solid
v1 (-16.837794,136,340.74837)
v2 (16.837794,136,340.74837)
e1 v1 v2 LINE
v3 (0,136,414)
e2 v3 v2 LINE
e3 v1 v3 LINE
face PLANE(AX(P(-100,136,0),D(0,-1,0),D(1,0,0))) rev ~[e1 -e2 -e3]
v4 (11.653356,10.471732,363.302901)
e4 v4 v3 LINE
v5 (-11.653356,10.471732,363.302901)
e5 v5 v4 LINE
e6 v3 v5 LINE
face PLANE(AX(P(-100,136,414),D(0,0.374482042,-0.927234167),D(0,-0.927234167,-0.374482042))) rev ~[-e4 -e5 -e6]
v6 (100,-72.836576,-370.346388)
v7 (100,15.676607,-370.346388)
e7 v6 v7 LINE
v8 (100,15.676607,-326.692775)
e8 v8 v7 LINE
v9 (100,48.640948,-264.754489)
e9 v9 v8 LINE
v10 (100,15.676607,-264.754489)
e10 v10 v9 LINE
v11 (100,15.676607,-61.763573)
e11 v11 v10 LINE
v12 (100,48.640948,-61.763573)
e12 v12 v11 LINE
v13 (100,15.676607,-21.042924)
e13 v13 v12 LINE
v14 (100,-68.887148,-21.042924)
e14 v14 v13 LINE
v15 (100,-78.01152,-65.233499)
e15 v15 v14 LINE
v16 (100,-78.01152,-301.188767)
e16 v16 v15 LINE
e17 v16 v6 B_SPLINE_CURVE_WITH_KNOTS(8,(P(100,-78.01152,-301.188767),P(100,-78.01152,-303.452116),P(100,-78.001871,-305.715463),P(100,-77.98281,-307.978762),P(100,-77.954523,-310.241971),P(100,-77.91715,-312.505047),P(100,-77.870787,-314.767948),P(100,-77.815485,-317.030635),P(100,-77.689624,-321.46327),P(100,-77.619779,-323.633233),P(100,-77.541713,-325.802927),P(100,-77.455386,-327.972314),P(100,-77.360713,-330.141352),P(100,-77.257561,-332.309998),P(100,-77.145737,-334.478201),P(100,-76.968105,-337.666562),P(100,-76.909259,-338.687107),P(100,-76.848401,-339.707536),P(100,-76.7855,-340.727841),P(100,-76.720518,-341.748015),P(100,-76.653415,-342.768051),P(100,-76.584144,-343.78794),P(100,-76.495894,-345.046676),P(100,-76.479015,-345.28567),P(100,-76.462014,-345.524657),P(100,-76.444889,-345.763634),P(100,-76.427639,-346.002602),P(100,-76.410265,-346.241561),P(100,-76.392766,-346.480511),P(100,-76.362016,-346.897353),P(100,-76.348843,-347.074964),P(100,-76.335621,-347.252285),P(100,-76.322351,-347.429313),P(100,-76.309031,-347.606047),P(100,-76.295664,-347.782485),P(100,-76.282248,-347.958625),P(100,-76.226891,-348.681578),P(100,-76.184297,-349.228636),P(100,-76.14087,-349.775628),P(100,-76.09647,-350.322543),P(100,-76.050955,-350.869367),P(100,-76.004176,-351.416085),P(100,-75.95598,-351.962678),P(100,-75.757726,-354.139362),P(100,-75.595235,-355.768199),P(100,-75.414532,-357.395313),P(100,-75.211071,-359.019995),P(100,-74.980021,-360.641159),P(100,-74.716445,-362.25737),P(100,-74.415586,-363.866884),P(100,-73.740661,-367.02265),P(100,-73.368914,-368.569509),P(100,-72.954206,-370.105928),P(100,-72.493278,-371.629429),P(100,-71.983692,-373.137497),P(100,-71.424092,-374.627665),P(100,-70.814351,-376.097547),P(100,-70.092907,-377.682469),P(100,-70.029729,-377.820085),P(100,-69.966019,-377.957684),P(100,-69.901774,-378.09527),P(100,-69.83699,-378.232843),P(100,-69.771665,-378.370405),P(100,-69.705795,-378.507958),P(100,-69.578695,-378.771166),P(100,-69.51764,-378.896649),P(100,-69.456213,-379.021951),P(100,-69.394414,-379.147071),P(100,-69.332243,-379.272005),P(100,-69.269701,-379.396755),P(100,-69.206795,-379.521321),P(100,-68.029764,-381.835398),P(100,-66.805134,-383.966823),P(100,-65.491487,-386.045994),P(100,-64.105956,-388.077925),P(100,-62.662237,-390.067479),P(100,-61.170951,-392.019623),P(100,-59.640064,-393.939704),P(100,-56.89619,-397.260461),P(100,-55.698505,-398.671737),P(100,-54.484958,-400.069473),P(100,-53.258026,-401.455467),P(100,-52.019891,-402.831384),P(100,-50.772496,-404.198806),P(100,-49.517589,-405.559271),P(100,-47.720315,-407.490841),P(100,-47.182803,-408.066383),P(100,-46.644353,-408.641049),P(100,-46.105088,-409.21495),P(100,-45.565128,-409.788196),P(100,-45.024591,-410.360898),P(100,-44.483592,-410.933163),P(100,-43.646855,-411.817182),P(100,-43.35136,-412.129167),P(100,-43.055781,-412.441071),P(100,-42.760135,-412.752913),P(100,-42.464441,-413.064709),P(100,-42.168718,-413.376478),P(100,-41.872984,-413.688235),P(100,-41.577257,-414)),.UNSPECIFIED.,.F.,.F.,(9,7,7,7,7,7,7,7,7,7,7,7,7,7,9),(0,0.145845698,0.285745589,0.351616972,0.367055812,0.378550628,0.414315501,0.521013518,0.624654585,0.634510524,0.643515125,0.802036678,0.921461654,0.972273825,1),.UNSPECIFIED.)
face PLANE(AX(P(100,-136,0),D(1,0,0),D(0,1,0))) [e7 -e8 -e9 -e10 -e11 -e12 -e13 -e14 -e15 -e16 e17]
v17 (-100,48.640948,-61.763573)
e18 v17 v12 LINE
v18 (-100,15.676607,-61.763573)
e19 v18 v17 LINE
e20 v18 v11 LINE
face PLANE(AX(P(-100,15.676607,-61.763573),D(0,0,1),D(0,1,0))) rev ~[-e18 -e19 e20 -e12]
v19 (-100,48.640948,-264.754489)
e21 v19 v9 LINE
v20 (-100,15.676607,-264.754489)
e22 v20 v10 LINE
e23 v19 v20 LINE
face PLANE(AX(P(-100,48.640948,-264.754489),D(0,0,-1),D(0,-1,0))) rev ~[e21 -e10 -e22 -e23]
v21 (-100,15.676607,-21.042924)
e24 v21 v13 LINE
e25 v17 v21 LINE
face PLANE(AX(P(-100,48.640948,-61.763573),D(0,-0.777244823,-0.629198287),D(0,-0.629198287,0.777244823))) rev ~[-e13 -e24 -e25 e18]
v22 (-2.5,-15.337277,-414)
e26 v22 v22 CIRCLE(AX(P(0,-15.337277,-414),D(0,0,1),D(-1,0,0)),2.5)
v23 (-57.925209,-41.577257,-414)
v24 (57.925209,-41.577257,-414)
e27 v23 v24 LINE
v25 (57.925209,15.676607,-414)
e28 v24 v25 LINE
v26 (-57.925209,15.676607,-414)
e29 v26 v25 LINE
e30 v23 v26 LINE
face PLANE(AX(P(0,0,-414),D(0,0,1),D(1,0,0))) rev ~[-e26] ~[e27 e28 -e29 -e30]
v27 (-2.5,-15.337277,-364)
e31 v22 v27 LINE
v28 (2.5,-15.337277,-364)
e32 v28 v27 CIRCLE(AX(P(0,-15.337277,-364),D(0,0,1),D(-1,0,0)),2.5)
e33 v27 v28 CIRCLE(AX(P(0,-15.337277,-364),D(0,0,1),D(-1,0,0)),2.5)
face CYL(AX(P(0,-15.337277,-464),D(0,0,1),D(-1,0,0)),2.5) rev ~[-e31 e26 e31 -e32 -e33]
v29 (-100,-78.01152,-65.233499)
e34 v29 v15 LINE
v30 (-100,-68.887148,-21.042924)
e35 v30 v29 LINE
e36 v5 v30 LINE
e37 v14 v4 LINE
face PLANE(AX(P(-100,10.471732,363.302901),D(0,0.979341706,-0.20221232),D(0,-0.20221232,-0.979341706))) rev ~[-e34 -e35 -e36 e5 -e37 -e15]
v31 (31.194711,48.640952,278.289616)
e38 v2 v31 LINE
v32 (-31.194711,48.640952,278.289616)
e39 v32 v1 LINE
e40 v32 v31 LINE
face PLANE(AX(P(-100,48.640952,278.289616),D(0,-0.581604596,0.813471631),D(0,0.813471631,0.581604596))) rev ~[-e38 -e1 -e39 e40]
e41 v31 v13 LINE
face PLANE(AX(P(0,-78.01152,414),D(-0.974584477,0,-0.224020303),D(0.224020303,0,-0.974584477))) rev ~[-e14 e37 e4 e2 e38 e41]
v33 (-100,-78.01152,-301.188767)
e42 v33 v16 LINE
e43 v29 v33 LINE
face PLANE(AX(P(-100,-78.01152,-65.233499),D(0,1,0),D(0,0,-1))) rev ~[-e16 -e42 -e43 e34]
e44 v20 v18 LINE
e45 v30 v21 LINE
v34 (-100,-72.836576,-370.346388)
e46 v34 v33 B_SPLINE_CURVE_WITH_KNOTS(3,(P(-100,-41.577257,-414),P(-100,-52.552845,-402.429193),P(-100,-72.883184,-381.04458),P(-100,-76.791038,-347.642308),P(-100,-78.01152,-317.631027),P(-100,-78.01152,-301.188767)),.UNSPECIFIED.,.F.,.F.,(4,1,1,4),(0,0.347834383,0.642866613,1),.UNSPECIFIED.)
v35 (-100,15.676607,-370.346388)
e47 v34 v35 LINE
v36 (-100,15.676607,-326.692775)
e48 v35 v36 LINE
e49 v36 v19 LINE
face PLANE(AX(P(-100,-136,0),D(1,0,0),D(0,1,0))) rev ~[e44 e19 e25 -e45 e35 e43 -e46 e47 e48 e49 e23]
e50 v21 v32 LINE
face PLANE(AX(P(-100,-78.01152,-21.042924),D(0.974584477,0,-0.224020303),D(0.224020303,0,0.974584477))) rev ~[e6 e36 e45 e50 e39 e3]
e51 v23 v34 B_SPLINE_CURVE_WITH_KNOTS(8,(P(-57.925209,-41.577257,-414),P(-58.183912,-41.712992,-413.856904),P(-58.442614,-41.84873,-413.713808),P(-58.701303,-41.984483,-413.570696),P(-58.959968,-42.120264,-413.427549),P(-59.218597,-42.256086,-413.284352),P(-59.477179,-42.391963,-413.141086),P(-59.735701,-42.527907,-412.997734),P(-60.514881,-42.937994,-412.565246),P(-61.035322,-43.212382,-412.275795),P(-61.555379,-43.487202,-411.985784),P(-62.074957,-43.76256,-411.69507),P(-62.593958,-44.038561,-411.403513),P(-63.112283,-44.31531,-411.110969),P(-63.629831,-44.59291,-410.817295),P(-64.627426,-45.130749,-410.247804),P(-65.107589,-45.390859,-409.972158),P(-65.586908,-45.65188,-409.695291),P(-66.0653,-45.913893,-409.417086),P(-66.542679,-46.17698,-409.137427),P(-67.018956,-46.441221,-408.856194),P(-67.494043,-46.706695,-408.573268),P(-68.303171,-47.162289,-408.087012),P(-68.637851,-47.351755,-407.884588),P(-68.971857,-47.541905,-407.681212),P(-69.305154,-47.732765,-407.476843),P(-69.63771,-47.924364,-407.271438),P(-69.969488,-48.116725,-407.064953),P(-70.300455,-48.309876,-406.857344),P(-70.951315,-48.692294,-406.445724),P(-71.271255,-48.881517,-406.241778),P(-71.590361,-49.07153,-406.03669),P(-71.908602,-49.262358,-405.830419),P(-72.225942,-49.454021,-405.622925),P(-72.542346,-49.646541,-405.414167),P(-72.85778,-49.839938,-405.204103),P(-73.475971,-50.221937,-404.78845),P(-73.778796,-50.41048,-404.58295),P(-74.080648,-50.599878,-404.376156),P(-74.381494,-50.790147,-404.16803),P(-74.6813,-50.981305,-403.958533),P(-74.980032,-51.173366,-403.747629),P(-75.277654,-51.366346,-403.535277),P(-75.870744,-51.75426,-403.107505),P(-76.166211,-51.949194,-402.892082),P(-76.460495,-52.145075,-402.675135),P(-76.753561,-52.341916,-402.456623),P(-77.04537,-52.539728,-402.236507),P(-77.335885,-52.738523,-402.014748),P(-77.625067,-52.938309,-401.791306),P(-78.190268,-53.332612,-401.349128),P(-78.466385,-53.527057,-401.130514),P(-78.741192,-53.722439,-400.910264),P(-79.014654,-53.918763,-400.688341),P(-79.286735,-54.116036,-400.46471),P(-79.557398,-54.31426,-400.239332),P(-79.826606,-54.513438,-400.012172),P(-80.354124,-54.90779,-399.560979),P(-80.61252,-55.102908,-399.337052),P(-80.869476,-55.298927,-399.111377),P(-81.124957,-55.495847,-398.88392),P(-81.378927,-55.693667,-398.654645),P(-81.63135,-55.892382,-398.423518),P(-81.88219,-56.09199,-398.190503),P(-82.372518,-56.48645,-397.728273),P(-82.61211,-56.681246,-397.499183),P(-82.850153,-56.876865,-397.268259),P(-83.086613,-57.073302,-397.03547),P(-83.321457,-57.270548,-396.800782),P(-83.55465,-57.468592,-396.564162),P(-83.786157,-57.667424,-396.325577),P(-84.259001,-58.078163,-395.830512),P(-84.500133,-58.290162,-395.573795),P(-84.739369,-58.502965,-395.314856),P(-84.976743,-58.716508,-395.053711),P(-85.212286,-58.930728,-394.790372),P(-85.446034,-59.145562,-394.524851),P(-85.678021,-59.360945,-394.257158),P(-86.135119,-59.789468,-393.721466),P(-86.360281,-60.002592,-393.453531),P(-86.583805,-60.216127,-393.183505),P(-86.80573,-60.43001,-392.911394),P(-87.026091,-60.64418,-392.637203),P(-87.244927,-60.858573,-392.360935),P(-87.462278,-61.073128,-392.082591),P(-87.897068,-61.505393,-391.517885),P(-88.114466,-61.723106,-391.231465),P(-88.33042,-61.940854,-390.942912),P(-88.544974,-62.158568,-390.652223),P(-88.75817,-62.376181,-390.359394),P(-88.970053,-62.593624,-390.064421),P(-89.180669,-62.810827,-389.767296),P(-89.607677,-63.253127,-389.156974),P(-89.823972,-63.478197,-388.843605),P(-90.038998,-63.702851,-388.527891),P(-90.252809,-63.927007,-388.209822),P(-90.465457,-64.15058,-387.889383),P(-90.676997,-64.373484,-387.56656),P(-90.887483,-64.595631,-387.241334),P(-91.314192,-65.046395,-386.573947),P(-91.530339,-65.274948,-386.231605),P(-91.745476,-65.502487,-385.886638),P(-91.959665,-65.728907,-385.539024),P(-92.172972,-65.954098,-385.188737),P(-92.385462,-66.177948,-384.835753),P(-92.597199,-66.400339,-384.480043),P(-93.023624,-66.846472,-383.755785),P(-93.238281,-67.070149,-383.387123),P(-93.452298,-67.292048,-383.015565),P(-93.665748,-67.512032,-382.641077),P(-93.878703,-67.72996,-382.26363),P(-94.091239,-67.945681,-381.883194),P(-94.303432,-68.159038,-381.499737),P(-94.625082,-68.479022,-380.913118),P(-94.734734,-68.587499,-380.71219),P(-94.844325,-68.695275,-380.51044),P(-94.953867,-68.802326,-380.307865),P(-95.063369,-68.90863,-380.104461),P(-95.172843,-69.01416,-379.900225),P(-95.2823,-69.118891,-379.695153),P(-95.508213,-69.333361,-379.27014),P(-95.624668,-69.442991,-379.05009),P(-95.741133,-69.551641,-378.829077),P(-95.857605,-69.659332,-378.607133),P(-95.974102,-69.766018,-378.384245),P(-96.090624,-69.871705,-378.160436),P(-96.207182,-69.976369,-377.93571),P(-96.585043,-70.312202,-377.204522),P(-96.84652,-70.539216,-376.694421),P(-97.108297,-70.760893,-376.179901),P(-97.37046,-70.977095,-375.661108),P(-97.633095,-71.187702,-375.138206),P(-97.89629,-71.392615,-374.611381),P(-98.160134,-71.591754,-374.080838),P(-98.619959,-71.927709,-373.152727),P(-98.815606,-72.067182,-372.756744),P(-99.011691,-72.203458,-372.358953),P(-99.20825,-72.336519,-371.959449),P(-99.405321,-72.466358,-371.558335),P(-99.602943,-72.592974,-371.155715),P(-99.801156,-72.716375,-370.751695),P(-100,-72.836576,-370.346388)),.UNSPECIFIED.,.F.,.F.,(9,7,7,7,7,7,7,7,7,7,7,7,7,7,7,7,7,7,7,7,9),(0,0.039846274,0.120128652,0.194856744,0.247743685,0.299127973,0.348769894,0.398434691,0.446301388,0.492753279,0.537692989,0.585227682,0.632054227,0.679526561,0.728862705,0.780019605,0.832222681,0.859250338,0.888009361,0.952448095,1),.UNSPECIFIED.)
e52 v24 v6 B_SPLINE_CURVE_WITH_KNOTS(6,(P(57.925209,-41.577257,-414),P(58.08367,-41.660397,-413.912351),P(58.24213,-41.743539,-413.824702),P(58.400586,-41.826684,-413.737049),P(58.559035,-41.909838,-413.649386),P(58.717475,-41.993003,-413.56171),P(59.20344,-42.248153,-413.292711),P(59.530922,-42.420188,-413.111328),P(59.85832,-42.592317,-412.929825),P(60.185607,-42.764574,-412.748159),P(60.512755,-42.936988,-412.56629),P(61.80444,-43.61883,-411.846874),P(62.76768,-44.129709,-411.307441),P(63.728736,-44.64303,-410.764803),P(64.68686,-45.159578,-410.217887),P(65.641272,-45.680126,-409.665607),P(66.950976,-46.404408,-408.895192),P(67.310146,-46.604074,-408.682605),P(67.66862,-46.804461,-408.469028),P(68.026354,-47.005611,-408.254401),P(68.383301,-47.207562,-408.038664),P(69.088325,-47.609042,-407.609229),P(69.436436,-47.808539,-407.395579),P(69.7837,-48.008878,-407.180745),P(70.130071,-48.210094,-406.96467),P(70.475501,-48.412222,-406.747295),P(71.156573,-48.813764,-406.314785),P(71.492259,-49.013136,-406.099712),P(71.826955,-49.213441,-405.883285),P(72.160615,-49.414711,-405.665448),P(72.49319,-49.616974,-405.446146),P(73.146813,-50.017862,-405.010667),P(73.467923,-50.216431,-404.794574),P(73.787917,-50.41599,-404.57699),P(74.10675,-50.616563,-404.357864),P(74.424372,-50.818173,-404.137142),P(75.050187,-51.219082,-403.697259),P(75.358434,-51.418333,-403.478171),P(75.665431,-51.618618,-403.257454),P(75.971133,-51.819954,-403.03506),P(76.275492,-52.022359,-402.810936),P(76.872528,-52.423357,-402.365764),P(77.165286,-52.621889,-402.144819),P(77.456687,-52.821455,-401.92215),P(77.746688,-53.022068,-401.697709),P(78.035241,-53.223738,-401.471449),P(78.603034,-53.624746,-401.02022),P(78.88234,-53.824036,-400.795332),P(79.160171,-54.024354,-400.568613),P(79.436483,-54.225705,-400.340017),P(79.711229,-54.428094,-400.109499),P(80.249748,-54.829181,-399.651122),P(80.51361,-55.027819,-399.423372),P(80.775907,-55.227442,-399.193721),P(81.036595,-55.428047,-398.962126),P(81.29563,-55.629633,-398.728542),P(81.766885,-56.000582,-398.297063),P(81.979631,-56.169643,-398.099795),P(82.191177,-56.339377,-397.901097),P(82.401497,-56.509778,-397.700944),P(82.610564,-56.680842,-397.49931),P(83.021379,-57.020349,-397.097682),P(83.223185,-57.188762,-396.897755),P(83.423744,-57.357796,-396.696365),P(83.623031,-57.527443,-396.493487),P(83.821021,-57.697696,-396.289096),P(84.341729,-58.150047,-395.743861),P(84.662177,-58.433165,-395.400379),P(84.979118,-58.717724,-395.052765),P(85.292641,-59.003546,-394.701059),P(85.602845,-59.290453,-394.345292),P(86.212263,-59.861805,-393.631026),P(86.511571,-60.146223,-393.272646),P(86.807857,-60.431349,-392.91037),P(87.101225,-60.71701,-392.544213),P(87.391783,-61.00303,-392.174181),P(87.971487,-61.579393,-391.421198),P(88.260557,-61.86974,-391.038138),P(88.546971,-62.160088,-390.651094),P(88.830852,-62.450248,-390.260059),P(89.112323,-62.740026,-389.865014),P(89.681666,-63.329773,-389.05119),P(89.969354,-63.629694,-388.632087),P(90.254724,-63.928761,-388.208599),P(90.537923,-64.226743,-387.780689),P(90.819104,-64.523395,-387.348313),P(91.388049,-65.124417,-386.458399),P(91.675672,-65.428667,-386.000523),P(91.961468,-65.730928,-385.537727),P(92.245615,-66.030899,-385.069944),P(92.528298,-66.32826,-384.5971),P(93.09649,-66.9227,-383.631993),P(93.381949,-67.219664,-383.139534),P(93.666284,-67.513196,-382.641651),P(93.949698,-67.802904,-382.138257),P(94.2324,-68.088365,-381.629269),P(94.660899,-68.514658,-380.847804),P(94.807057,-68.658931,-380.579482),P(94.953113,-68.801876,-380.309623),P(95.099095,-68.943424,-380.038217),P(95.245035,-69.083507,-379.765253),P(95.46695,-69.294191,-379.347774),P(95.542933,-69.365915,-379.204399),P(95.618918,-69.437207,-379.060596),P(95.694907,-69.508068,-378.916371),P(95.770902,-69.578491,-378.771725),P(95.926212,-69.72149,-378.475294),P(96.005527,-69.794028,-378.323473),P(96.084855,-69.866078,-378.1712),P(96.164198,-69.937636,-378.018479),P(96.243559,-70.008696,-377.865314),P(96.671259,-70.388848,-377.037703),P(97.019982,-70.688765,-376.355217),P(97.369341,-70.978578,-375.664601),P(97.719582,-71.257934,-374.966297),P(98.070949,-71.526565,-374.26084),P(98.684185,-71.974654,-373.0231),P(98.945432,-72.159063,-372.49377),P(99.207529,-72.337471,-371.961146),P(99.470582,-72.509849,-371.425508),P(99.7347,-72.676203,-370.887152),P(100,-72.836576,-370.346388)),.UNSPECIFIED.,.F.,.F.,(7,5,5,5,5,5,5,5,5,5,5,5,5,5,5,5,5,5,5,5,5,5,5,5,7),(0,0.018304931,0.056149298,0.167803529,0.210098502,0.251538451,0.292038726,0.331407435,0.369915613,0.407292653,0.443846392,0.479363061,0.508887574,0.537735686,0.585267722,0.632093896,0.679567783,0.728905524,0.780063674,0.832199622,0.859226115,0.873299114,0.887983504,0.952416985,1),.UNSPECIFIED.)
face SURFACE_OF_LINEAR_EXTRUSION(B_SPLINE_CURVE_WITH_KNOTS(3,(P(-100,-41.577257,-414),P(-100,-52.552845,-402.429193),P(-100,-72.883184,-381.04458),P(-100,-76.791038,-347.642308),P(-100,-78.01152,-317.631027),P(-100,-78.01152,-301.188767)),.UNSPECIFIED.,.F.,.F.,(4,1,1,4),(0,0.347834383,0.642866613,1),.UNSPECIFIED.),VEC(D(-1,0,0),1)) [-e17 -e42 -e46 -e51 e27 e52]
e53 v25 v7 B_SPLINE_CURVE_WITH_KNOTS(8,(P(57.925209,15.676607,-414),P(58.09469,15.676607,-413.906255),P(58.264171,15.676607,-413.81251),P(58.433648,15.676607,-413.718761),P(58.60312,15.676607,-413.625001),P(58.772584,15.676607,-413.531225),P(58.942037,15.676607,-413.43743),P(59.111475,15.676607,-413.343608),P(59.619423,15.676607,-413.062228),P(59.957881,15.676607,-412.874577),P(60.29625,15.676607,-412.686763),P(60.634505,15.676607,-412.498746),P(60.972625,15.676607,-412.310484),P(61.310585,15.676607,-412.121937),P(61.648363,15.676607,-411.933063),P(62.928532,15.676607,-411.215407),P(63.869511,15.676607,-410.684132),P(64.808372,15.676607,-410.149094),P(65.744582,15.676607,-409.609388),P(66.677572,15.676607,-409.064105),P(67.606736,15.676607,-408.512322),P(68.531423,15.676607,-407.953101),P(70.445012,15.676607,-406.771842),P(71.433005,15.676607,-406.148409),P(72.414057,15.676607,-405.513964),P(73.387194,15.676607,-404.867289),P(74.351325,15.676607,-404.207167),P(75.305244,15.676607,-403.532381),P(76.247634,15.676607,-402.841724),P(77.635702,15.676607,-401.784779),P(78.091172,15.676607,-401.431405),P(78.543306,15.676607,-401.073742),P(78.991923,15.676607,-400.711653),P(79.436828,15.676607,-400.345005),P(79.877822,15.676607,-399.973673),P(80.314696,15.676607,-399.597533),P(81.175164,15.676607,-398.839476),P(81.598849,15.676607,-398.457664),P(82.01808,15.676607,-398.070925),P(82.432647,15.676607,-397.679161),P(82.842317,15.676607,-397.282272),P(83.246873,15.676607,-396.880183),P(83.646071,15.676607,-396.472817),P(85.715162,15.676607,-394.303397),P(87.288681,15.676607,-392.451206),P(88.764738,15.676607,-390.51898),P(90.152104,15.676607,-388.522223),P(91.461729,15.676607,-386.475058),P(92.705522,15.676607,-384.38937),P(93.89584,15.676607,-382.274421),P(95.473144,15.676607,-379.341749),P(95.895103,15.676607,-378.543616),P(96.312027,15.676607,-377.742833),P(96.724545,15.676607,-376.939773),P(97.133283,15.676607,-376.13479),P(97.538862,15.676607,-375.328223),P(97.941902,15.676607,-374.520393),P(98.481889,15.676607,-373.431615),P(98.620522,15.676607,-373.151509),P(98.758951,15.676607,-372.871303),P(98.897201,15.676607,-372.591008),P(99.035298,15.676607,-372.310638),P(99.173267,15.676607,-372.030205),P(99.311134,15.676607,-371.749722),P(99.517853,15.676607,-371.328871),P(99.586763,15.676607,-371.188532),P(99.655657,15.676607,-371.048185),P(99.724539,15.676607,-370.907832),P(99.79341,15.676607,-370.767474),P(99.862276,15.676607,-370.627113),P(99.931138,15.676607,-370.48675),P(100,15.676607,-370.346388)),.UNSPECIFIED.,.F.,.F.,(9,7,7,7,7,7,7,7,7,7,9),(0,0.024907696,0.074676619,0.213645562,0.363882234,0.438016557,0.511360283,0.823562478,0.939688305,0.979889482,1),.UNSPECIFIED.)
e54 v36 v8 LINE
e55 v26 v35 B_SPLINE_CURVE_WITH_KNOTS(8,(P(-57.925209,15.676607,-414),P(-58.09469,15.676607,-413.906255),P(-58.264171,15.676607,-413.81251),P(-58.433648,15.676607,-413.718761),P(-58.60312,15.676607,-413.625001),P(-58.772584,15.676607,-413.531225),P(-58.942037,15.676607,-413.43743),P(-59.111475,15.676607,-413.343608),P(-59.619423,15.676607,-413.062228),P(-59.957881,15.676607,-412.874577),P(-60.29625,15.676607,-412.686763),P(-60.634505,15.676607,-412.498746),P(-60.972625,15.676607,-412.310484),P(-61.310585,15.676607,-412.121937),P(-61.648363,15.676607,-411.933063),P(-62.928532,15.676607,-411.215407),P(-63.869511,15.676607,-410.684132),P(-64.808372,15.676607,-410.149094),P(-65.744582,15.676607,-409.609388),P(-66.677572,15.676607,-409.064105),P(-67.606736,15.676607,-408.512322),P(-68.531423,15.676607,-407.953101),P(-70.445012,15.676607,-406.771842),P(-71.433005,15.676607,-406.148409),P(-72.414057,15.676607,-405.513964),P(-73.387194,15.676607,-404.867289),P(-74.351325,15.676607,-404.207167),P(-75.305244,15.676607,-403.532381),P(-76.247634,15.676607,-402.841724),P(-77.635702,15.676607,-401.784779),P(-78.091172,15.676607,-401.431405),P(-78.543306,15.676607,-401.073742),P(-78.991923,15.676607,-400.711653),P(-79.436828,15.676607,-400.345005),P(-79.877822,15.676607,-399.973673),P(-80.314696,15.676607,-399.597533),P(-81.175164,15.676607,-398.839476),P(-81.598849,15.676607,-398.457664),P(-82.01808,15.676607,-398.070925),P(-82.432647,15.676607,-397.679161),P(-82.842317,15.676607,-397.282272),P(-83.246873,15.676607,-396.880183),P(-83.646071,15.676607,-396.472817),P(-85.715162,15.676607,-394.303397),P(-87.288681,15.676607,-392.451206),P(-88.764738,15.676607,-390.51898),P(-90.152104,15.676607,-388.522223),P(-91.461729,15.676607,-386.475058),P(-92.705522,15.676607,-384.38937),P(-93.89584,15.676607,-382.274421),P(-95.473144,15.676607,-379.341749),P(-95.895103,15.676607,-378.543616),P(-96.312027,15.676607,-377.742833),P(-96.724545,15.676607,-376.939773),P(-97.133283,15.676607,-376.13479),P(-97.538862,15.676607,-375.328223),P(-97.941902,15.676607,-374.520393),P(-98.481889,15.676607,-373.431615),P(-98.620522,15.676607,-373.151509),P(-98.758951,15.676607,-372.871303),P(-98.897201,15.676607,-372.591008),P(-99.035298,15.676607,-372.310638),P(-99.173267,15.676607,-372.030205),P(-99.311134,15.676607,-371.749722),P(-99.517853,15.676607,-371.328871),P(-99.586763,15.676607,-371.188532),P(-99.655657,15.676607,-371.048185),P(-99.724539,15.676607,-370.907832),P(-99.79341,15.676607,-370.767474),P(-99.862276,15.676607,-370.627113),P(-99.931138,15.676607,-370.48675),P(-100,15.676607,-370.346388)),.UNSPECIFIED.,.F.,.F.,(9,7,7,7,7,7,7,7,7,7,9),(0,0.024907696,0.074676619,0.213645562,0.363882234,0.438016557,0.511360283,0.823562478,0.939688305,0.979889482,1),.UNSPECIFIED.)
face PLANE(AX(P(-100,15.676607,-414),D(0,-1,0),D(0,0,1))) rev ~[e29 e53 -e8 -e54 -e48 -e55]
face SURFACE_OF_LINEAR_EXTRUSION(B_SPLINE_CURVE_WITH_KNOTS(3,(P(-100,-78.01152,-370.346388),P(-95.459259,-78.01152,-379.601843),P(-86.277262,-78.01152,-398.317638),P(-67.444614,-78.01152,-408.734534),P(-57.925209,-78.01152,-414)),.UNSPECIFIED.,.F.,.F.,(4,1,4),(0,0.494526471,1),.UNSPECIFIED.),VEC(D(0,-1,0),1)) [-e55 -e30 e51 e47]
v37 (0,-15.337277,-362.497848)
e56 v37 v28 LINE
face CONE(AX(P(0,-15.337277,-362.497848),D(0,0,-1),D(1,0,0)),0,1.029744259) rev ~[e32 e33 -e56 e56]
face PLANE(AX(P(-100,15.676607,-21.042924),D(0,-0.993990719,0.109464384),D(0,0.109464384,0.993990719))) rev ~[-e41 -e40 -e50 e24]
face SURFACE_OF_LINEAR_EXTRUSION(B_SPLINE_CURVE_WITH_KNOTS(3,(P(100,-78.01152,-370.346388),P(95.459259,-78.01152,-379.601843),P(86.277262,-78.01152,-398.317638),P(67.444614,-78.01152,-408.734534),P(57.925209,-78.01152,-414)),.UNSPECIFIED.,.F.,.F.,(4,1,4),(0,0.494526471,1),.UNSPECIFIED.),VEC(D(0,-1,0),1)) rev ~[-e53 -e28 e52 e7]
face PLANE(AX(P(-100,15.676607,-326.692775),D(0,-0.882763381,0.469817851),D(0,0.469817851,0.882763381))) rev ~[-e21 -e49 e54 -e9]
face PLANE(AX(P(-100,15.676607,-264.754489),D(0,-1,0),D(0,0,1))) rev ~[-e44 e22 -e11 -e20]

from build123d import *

# Parameters (mm, degrees)
F0_W     = 200
F0_H     = 272
F1_DEPTH = 414
F3_DEPTH = 200.001
F5_DEPTH = 214.0125203069
F7_D     = 5
F7_DEPTH = 50
F7_TIP   = 1.5021515476


with BuildPart() as f1:
    # F0 (on Top) → F1 (new body, symmetric)
    with BuildSketch(Plane.XY):
        Rectangle(F0_W, F0_H)
    extrude(amount=F1_DEPTH, both=True)

    # F2 (on face) → F3 (cut, through all)
    with BuildSketch(Plane(origin=(-100, 0, 0), x_dir=(0, -1, 0), z_dir=(-1, 0, 0))):
        Polygon((-48.6409515142, 278.2896161079), (-136, 340.7483696938), (-136, -414), (-15.6766073778, -414), (-15.6766073778, -326.6927754041), (-48.640947789, -264.7544890642), (-15.6766073778, -264.7544890642), (-15.6766073778, -61.7635734379), (-48.640947789, -61.7635734379), (-15.6766073778, -21.04292392), align=None)
        with BuildLine():
            Line((136, 414), (-136, 414))
            Line((-136, 414), (-10.4717324721, 363.3029013872))
            Line((-10.4717324721, 363.3029013872), (78.0115202069, -65.2334988117))
            Line((78.0115202069, -65.2334988117), (78.0115202069, -301.1887669563))
            add(Edge.make_bspline(
                [(41.577257216, -414), (52.5528446959, -402.42919259), (72.8831837624, -381.0445803549), (76.791037733, -347.6423075278), (78.0115202069, -317.6310269751), (78.0115202069, -301.1887669563)],
                knots=[0, 0, 0, 0, 0.3478343827, 0.6428666129, 1, 1, 1, 1], degree=3))
            Line((41.577257216, -414), (136, -414))
            Line((136, -414), (136, 414))
        make_face()
    extrude(amount=-F3_DEPTH, mode=Mode.SUBTRACT)

    # F4 (on face) → F5 (cut, through all)
    with BuildSketch(Plane.XZ.offset(78.0115202069)):
        Polygon((-100, -21.04292392), (0, 414), (-100, 414), (-100, 340.7483696938), (-100, 278.2896161079), align=None)
        Polygon((100, 414), (0, 414), (100, -21.04292392), (100, 278.2896161079), (100, 340.7483696938), align=None)
        with BuildLine():
            Line((57.925209403, -414), (100, -414))
            Line((100, -414), (100, -370.346387702))
            add(Edge.make_bspline(
                [(100, -370.346387702), (95.4592593145, -379.6018433489), (86.2772620908, -398.3176375197), (67.4446143257, -408.7345343832), (57.925209403, -414)],
                knots=[0, 0, 0, 0, 0.4945264712, 1, 1, 1, 1], degree=3))
        make_face()
        with BuildLine():
            Line((-100, -414), (-57.925209403, -414))
            add(Edge.make_bspline(
                [(-100, -370.346387702), (-95.4592593145, -379.6018433489), (-86.2772620908, -398.3176375197), (-67.4446143257, -408.7345343832), (-57.925209403, -414)],
                knots=[0, 0, 0, 0, 0.4945264712, 1, 1, 1, 1], degree=3))
            Line((-100, -370.346387702), (-100, -414))
        make_face()
    extrude(amount=-F5_DEPTH, mode=Mode.SUBTRACT)

    # F7
    with Locations(Plane(origin=(0, 0, -414), x_dir=(1, 0, 0), z_dir=(0, 0, -1))):
        with Locations((0, 15.3372772038)):
            Hole(F7_D / 2, depth=F7_DEPTH)
            with Locations((0, 0, -(F7_DEPTH + F7_TIP / 2))):  # 118° drill point
                Cone(0, F7_D / 2, F7_TIP, mode=Mode.SUBTRACT)


solid = f1.part
